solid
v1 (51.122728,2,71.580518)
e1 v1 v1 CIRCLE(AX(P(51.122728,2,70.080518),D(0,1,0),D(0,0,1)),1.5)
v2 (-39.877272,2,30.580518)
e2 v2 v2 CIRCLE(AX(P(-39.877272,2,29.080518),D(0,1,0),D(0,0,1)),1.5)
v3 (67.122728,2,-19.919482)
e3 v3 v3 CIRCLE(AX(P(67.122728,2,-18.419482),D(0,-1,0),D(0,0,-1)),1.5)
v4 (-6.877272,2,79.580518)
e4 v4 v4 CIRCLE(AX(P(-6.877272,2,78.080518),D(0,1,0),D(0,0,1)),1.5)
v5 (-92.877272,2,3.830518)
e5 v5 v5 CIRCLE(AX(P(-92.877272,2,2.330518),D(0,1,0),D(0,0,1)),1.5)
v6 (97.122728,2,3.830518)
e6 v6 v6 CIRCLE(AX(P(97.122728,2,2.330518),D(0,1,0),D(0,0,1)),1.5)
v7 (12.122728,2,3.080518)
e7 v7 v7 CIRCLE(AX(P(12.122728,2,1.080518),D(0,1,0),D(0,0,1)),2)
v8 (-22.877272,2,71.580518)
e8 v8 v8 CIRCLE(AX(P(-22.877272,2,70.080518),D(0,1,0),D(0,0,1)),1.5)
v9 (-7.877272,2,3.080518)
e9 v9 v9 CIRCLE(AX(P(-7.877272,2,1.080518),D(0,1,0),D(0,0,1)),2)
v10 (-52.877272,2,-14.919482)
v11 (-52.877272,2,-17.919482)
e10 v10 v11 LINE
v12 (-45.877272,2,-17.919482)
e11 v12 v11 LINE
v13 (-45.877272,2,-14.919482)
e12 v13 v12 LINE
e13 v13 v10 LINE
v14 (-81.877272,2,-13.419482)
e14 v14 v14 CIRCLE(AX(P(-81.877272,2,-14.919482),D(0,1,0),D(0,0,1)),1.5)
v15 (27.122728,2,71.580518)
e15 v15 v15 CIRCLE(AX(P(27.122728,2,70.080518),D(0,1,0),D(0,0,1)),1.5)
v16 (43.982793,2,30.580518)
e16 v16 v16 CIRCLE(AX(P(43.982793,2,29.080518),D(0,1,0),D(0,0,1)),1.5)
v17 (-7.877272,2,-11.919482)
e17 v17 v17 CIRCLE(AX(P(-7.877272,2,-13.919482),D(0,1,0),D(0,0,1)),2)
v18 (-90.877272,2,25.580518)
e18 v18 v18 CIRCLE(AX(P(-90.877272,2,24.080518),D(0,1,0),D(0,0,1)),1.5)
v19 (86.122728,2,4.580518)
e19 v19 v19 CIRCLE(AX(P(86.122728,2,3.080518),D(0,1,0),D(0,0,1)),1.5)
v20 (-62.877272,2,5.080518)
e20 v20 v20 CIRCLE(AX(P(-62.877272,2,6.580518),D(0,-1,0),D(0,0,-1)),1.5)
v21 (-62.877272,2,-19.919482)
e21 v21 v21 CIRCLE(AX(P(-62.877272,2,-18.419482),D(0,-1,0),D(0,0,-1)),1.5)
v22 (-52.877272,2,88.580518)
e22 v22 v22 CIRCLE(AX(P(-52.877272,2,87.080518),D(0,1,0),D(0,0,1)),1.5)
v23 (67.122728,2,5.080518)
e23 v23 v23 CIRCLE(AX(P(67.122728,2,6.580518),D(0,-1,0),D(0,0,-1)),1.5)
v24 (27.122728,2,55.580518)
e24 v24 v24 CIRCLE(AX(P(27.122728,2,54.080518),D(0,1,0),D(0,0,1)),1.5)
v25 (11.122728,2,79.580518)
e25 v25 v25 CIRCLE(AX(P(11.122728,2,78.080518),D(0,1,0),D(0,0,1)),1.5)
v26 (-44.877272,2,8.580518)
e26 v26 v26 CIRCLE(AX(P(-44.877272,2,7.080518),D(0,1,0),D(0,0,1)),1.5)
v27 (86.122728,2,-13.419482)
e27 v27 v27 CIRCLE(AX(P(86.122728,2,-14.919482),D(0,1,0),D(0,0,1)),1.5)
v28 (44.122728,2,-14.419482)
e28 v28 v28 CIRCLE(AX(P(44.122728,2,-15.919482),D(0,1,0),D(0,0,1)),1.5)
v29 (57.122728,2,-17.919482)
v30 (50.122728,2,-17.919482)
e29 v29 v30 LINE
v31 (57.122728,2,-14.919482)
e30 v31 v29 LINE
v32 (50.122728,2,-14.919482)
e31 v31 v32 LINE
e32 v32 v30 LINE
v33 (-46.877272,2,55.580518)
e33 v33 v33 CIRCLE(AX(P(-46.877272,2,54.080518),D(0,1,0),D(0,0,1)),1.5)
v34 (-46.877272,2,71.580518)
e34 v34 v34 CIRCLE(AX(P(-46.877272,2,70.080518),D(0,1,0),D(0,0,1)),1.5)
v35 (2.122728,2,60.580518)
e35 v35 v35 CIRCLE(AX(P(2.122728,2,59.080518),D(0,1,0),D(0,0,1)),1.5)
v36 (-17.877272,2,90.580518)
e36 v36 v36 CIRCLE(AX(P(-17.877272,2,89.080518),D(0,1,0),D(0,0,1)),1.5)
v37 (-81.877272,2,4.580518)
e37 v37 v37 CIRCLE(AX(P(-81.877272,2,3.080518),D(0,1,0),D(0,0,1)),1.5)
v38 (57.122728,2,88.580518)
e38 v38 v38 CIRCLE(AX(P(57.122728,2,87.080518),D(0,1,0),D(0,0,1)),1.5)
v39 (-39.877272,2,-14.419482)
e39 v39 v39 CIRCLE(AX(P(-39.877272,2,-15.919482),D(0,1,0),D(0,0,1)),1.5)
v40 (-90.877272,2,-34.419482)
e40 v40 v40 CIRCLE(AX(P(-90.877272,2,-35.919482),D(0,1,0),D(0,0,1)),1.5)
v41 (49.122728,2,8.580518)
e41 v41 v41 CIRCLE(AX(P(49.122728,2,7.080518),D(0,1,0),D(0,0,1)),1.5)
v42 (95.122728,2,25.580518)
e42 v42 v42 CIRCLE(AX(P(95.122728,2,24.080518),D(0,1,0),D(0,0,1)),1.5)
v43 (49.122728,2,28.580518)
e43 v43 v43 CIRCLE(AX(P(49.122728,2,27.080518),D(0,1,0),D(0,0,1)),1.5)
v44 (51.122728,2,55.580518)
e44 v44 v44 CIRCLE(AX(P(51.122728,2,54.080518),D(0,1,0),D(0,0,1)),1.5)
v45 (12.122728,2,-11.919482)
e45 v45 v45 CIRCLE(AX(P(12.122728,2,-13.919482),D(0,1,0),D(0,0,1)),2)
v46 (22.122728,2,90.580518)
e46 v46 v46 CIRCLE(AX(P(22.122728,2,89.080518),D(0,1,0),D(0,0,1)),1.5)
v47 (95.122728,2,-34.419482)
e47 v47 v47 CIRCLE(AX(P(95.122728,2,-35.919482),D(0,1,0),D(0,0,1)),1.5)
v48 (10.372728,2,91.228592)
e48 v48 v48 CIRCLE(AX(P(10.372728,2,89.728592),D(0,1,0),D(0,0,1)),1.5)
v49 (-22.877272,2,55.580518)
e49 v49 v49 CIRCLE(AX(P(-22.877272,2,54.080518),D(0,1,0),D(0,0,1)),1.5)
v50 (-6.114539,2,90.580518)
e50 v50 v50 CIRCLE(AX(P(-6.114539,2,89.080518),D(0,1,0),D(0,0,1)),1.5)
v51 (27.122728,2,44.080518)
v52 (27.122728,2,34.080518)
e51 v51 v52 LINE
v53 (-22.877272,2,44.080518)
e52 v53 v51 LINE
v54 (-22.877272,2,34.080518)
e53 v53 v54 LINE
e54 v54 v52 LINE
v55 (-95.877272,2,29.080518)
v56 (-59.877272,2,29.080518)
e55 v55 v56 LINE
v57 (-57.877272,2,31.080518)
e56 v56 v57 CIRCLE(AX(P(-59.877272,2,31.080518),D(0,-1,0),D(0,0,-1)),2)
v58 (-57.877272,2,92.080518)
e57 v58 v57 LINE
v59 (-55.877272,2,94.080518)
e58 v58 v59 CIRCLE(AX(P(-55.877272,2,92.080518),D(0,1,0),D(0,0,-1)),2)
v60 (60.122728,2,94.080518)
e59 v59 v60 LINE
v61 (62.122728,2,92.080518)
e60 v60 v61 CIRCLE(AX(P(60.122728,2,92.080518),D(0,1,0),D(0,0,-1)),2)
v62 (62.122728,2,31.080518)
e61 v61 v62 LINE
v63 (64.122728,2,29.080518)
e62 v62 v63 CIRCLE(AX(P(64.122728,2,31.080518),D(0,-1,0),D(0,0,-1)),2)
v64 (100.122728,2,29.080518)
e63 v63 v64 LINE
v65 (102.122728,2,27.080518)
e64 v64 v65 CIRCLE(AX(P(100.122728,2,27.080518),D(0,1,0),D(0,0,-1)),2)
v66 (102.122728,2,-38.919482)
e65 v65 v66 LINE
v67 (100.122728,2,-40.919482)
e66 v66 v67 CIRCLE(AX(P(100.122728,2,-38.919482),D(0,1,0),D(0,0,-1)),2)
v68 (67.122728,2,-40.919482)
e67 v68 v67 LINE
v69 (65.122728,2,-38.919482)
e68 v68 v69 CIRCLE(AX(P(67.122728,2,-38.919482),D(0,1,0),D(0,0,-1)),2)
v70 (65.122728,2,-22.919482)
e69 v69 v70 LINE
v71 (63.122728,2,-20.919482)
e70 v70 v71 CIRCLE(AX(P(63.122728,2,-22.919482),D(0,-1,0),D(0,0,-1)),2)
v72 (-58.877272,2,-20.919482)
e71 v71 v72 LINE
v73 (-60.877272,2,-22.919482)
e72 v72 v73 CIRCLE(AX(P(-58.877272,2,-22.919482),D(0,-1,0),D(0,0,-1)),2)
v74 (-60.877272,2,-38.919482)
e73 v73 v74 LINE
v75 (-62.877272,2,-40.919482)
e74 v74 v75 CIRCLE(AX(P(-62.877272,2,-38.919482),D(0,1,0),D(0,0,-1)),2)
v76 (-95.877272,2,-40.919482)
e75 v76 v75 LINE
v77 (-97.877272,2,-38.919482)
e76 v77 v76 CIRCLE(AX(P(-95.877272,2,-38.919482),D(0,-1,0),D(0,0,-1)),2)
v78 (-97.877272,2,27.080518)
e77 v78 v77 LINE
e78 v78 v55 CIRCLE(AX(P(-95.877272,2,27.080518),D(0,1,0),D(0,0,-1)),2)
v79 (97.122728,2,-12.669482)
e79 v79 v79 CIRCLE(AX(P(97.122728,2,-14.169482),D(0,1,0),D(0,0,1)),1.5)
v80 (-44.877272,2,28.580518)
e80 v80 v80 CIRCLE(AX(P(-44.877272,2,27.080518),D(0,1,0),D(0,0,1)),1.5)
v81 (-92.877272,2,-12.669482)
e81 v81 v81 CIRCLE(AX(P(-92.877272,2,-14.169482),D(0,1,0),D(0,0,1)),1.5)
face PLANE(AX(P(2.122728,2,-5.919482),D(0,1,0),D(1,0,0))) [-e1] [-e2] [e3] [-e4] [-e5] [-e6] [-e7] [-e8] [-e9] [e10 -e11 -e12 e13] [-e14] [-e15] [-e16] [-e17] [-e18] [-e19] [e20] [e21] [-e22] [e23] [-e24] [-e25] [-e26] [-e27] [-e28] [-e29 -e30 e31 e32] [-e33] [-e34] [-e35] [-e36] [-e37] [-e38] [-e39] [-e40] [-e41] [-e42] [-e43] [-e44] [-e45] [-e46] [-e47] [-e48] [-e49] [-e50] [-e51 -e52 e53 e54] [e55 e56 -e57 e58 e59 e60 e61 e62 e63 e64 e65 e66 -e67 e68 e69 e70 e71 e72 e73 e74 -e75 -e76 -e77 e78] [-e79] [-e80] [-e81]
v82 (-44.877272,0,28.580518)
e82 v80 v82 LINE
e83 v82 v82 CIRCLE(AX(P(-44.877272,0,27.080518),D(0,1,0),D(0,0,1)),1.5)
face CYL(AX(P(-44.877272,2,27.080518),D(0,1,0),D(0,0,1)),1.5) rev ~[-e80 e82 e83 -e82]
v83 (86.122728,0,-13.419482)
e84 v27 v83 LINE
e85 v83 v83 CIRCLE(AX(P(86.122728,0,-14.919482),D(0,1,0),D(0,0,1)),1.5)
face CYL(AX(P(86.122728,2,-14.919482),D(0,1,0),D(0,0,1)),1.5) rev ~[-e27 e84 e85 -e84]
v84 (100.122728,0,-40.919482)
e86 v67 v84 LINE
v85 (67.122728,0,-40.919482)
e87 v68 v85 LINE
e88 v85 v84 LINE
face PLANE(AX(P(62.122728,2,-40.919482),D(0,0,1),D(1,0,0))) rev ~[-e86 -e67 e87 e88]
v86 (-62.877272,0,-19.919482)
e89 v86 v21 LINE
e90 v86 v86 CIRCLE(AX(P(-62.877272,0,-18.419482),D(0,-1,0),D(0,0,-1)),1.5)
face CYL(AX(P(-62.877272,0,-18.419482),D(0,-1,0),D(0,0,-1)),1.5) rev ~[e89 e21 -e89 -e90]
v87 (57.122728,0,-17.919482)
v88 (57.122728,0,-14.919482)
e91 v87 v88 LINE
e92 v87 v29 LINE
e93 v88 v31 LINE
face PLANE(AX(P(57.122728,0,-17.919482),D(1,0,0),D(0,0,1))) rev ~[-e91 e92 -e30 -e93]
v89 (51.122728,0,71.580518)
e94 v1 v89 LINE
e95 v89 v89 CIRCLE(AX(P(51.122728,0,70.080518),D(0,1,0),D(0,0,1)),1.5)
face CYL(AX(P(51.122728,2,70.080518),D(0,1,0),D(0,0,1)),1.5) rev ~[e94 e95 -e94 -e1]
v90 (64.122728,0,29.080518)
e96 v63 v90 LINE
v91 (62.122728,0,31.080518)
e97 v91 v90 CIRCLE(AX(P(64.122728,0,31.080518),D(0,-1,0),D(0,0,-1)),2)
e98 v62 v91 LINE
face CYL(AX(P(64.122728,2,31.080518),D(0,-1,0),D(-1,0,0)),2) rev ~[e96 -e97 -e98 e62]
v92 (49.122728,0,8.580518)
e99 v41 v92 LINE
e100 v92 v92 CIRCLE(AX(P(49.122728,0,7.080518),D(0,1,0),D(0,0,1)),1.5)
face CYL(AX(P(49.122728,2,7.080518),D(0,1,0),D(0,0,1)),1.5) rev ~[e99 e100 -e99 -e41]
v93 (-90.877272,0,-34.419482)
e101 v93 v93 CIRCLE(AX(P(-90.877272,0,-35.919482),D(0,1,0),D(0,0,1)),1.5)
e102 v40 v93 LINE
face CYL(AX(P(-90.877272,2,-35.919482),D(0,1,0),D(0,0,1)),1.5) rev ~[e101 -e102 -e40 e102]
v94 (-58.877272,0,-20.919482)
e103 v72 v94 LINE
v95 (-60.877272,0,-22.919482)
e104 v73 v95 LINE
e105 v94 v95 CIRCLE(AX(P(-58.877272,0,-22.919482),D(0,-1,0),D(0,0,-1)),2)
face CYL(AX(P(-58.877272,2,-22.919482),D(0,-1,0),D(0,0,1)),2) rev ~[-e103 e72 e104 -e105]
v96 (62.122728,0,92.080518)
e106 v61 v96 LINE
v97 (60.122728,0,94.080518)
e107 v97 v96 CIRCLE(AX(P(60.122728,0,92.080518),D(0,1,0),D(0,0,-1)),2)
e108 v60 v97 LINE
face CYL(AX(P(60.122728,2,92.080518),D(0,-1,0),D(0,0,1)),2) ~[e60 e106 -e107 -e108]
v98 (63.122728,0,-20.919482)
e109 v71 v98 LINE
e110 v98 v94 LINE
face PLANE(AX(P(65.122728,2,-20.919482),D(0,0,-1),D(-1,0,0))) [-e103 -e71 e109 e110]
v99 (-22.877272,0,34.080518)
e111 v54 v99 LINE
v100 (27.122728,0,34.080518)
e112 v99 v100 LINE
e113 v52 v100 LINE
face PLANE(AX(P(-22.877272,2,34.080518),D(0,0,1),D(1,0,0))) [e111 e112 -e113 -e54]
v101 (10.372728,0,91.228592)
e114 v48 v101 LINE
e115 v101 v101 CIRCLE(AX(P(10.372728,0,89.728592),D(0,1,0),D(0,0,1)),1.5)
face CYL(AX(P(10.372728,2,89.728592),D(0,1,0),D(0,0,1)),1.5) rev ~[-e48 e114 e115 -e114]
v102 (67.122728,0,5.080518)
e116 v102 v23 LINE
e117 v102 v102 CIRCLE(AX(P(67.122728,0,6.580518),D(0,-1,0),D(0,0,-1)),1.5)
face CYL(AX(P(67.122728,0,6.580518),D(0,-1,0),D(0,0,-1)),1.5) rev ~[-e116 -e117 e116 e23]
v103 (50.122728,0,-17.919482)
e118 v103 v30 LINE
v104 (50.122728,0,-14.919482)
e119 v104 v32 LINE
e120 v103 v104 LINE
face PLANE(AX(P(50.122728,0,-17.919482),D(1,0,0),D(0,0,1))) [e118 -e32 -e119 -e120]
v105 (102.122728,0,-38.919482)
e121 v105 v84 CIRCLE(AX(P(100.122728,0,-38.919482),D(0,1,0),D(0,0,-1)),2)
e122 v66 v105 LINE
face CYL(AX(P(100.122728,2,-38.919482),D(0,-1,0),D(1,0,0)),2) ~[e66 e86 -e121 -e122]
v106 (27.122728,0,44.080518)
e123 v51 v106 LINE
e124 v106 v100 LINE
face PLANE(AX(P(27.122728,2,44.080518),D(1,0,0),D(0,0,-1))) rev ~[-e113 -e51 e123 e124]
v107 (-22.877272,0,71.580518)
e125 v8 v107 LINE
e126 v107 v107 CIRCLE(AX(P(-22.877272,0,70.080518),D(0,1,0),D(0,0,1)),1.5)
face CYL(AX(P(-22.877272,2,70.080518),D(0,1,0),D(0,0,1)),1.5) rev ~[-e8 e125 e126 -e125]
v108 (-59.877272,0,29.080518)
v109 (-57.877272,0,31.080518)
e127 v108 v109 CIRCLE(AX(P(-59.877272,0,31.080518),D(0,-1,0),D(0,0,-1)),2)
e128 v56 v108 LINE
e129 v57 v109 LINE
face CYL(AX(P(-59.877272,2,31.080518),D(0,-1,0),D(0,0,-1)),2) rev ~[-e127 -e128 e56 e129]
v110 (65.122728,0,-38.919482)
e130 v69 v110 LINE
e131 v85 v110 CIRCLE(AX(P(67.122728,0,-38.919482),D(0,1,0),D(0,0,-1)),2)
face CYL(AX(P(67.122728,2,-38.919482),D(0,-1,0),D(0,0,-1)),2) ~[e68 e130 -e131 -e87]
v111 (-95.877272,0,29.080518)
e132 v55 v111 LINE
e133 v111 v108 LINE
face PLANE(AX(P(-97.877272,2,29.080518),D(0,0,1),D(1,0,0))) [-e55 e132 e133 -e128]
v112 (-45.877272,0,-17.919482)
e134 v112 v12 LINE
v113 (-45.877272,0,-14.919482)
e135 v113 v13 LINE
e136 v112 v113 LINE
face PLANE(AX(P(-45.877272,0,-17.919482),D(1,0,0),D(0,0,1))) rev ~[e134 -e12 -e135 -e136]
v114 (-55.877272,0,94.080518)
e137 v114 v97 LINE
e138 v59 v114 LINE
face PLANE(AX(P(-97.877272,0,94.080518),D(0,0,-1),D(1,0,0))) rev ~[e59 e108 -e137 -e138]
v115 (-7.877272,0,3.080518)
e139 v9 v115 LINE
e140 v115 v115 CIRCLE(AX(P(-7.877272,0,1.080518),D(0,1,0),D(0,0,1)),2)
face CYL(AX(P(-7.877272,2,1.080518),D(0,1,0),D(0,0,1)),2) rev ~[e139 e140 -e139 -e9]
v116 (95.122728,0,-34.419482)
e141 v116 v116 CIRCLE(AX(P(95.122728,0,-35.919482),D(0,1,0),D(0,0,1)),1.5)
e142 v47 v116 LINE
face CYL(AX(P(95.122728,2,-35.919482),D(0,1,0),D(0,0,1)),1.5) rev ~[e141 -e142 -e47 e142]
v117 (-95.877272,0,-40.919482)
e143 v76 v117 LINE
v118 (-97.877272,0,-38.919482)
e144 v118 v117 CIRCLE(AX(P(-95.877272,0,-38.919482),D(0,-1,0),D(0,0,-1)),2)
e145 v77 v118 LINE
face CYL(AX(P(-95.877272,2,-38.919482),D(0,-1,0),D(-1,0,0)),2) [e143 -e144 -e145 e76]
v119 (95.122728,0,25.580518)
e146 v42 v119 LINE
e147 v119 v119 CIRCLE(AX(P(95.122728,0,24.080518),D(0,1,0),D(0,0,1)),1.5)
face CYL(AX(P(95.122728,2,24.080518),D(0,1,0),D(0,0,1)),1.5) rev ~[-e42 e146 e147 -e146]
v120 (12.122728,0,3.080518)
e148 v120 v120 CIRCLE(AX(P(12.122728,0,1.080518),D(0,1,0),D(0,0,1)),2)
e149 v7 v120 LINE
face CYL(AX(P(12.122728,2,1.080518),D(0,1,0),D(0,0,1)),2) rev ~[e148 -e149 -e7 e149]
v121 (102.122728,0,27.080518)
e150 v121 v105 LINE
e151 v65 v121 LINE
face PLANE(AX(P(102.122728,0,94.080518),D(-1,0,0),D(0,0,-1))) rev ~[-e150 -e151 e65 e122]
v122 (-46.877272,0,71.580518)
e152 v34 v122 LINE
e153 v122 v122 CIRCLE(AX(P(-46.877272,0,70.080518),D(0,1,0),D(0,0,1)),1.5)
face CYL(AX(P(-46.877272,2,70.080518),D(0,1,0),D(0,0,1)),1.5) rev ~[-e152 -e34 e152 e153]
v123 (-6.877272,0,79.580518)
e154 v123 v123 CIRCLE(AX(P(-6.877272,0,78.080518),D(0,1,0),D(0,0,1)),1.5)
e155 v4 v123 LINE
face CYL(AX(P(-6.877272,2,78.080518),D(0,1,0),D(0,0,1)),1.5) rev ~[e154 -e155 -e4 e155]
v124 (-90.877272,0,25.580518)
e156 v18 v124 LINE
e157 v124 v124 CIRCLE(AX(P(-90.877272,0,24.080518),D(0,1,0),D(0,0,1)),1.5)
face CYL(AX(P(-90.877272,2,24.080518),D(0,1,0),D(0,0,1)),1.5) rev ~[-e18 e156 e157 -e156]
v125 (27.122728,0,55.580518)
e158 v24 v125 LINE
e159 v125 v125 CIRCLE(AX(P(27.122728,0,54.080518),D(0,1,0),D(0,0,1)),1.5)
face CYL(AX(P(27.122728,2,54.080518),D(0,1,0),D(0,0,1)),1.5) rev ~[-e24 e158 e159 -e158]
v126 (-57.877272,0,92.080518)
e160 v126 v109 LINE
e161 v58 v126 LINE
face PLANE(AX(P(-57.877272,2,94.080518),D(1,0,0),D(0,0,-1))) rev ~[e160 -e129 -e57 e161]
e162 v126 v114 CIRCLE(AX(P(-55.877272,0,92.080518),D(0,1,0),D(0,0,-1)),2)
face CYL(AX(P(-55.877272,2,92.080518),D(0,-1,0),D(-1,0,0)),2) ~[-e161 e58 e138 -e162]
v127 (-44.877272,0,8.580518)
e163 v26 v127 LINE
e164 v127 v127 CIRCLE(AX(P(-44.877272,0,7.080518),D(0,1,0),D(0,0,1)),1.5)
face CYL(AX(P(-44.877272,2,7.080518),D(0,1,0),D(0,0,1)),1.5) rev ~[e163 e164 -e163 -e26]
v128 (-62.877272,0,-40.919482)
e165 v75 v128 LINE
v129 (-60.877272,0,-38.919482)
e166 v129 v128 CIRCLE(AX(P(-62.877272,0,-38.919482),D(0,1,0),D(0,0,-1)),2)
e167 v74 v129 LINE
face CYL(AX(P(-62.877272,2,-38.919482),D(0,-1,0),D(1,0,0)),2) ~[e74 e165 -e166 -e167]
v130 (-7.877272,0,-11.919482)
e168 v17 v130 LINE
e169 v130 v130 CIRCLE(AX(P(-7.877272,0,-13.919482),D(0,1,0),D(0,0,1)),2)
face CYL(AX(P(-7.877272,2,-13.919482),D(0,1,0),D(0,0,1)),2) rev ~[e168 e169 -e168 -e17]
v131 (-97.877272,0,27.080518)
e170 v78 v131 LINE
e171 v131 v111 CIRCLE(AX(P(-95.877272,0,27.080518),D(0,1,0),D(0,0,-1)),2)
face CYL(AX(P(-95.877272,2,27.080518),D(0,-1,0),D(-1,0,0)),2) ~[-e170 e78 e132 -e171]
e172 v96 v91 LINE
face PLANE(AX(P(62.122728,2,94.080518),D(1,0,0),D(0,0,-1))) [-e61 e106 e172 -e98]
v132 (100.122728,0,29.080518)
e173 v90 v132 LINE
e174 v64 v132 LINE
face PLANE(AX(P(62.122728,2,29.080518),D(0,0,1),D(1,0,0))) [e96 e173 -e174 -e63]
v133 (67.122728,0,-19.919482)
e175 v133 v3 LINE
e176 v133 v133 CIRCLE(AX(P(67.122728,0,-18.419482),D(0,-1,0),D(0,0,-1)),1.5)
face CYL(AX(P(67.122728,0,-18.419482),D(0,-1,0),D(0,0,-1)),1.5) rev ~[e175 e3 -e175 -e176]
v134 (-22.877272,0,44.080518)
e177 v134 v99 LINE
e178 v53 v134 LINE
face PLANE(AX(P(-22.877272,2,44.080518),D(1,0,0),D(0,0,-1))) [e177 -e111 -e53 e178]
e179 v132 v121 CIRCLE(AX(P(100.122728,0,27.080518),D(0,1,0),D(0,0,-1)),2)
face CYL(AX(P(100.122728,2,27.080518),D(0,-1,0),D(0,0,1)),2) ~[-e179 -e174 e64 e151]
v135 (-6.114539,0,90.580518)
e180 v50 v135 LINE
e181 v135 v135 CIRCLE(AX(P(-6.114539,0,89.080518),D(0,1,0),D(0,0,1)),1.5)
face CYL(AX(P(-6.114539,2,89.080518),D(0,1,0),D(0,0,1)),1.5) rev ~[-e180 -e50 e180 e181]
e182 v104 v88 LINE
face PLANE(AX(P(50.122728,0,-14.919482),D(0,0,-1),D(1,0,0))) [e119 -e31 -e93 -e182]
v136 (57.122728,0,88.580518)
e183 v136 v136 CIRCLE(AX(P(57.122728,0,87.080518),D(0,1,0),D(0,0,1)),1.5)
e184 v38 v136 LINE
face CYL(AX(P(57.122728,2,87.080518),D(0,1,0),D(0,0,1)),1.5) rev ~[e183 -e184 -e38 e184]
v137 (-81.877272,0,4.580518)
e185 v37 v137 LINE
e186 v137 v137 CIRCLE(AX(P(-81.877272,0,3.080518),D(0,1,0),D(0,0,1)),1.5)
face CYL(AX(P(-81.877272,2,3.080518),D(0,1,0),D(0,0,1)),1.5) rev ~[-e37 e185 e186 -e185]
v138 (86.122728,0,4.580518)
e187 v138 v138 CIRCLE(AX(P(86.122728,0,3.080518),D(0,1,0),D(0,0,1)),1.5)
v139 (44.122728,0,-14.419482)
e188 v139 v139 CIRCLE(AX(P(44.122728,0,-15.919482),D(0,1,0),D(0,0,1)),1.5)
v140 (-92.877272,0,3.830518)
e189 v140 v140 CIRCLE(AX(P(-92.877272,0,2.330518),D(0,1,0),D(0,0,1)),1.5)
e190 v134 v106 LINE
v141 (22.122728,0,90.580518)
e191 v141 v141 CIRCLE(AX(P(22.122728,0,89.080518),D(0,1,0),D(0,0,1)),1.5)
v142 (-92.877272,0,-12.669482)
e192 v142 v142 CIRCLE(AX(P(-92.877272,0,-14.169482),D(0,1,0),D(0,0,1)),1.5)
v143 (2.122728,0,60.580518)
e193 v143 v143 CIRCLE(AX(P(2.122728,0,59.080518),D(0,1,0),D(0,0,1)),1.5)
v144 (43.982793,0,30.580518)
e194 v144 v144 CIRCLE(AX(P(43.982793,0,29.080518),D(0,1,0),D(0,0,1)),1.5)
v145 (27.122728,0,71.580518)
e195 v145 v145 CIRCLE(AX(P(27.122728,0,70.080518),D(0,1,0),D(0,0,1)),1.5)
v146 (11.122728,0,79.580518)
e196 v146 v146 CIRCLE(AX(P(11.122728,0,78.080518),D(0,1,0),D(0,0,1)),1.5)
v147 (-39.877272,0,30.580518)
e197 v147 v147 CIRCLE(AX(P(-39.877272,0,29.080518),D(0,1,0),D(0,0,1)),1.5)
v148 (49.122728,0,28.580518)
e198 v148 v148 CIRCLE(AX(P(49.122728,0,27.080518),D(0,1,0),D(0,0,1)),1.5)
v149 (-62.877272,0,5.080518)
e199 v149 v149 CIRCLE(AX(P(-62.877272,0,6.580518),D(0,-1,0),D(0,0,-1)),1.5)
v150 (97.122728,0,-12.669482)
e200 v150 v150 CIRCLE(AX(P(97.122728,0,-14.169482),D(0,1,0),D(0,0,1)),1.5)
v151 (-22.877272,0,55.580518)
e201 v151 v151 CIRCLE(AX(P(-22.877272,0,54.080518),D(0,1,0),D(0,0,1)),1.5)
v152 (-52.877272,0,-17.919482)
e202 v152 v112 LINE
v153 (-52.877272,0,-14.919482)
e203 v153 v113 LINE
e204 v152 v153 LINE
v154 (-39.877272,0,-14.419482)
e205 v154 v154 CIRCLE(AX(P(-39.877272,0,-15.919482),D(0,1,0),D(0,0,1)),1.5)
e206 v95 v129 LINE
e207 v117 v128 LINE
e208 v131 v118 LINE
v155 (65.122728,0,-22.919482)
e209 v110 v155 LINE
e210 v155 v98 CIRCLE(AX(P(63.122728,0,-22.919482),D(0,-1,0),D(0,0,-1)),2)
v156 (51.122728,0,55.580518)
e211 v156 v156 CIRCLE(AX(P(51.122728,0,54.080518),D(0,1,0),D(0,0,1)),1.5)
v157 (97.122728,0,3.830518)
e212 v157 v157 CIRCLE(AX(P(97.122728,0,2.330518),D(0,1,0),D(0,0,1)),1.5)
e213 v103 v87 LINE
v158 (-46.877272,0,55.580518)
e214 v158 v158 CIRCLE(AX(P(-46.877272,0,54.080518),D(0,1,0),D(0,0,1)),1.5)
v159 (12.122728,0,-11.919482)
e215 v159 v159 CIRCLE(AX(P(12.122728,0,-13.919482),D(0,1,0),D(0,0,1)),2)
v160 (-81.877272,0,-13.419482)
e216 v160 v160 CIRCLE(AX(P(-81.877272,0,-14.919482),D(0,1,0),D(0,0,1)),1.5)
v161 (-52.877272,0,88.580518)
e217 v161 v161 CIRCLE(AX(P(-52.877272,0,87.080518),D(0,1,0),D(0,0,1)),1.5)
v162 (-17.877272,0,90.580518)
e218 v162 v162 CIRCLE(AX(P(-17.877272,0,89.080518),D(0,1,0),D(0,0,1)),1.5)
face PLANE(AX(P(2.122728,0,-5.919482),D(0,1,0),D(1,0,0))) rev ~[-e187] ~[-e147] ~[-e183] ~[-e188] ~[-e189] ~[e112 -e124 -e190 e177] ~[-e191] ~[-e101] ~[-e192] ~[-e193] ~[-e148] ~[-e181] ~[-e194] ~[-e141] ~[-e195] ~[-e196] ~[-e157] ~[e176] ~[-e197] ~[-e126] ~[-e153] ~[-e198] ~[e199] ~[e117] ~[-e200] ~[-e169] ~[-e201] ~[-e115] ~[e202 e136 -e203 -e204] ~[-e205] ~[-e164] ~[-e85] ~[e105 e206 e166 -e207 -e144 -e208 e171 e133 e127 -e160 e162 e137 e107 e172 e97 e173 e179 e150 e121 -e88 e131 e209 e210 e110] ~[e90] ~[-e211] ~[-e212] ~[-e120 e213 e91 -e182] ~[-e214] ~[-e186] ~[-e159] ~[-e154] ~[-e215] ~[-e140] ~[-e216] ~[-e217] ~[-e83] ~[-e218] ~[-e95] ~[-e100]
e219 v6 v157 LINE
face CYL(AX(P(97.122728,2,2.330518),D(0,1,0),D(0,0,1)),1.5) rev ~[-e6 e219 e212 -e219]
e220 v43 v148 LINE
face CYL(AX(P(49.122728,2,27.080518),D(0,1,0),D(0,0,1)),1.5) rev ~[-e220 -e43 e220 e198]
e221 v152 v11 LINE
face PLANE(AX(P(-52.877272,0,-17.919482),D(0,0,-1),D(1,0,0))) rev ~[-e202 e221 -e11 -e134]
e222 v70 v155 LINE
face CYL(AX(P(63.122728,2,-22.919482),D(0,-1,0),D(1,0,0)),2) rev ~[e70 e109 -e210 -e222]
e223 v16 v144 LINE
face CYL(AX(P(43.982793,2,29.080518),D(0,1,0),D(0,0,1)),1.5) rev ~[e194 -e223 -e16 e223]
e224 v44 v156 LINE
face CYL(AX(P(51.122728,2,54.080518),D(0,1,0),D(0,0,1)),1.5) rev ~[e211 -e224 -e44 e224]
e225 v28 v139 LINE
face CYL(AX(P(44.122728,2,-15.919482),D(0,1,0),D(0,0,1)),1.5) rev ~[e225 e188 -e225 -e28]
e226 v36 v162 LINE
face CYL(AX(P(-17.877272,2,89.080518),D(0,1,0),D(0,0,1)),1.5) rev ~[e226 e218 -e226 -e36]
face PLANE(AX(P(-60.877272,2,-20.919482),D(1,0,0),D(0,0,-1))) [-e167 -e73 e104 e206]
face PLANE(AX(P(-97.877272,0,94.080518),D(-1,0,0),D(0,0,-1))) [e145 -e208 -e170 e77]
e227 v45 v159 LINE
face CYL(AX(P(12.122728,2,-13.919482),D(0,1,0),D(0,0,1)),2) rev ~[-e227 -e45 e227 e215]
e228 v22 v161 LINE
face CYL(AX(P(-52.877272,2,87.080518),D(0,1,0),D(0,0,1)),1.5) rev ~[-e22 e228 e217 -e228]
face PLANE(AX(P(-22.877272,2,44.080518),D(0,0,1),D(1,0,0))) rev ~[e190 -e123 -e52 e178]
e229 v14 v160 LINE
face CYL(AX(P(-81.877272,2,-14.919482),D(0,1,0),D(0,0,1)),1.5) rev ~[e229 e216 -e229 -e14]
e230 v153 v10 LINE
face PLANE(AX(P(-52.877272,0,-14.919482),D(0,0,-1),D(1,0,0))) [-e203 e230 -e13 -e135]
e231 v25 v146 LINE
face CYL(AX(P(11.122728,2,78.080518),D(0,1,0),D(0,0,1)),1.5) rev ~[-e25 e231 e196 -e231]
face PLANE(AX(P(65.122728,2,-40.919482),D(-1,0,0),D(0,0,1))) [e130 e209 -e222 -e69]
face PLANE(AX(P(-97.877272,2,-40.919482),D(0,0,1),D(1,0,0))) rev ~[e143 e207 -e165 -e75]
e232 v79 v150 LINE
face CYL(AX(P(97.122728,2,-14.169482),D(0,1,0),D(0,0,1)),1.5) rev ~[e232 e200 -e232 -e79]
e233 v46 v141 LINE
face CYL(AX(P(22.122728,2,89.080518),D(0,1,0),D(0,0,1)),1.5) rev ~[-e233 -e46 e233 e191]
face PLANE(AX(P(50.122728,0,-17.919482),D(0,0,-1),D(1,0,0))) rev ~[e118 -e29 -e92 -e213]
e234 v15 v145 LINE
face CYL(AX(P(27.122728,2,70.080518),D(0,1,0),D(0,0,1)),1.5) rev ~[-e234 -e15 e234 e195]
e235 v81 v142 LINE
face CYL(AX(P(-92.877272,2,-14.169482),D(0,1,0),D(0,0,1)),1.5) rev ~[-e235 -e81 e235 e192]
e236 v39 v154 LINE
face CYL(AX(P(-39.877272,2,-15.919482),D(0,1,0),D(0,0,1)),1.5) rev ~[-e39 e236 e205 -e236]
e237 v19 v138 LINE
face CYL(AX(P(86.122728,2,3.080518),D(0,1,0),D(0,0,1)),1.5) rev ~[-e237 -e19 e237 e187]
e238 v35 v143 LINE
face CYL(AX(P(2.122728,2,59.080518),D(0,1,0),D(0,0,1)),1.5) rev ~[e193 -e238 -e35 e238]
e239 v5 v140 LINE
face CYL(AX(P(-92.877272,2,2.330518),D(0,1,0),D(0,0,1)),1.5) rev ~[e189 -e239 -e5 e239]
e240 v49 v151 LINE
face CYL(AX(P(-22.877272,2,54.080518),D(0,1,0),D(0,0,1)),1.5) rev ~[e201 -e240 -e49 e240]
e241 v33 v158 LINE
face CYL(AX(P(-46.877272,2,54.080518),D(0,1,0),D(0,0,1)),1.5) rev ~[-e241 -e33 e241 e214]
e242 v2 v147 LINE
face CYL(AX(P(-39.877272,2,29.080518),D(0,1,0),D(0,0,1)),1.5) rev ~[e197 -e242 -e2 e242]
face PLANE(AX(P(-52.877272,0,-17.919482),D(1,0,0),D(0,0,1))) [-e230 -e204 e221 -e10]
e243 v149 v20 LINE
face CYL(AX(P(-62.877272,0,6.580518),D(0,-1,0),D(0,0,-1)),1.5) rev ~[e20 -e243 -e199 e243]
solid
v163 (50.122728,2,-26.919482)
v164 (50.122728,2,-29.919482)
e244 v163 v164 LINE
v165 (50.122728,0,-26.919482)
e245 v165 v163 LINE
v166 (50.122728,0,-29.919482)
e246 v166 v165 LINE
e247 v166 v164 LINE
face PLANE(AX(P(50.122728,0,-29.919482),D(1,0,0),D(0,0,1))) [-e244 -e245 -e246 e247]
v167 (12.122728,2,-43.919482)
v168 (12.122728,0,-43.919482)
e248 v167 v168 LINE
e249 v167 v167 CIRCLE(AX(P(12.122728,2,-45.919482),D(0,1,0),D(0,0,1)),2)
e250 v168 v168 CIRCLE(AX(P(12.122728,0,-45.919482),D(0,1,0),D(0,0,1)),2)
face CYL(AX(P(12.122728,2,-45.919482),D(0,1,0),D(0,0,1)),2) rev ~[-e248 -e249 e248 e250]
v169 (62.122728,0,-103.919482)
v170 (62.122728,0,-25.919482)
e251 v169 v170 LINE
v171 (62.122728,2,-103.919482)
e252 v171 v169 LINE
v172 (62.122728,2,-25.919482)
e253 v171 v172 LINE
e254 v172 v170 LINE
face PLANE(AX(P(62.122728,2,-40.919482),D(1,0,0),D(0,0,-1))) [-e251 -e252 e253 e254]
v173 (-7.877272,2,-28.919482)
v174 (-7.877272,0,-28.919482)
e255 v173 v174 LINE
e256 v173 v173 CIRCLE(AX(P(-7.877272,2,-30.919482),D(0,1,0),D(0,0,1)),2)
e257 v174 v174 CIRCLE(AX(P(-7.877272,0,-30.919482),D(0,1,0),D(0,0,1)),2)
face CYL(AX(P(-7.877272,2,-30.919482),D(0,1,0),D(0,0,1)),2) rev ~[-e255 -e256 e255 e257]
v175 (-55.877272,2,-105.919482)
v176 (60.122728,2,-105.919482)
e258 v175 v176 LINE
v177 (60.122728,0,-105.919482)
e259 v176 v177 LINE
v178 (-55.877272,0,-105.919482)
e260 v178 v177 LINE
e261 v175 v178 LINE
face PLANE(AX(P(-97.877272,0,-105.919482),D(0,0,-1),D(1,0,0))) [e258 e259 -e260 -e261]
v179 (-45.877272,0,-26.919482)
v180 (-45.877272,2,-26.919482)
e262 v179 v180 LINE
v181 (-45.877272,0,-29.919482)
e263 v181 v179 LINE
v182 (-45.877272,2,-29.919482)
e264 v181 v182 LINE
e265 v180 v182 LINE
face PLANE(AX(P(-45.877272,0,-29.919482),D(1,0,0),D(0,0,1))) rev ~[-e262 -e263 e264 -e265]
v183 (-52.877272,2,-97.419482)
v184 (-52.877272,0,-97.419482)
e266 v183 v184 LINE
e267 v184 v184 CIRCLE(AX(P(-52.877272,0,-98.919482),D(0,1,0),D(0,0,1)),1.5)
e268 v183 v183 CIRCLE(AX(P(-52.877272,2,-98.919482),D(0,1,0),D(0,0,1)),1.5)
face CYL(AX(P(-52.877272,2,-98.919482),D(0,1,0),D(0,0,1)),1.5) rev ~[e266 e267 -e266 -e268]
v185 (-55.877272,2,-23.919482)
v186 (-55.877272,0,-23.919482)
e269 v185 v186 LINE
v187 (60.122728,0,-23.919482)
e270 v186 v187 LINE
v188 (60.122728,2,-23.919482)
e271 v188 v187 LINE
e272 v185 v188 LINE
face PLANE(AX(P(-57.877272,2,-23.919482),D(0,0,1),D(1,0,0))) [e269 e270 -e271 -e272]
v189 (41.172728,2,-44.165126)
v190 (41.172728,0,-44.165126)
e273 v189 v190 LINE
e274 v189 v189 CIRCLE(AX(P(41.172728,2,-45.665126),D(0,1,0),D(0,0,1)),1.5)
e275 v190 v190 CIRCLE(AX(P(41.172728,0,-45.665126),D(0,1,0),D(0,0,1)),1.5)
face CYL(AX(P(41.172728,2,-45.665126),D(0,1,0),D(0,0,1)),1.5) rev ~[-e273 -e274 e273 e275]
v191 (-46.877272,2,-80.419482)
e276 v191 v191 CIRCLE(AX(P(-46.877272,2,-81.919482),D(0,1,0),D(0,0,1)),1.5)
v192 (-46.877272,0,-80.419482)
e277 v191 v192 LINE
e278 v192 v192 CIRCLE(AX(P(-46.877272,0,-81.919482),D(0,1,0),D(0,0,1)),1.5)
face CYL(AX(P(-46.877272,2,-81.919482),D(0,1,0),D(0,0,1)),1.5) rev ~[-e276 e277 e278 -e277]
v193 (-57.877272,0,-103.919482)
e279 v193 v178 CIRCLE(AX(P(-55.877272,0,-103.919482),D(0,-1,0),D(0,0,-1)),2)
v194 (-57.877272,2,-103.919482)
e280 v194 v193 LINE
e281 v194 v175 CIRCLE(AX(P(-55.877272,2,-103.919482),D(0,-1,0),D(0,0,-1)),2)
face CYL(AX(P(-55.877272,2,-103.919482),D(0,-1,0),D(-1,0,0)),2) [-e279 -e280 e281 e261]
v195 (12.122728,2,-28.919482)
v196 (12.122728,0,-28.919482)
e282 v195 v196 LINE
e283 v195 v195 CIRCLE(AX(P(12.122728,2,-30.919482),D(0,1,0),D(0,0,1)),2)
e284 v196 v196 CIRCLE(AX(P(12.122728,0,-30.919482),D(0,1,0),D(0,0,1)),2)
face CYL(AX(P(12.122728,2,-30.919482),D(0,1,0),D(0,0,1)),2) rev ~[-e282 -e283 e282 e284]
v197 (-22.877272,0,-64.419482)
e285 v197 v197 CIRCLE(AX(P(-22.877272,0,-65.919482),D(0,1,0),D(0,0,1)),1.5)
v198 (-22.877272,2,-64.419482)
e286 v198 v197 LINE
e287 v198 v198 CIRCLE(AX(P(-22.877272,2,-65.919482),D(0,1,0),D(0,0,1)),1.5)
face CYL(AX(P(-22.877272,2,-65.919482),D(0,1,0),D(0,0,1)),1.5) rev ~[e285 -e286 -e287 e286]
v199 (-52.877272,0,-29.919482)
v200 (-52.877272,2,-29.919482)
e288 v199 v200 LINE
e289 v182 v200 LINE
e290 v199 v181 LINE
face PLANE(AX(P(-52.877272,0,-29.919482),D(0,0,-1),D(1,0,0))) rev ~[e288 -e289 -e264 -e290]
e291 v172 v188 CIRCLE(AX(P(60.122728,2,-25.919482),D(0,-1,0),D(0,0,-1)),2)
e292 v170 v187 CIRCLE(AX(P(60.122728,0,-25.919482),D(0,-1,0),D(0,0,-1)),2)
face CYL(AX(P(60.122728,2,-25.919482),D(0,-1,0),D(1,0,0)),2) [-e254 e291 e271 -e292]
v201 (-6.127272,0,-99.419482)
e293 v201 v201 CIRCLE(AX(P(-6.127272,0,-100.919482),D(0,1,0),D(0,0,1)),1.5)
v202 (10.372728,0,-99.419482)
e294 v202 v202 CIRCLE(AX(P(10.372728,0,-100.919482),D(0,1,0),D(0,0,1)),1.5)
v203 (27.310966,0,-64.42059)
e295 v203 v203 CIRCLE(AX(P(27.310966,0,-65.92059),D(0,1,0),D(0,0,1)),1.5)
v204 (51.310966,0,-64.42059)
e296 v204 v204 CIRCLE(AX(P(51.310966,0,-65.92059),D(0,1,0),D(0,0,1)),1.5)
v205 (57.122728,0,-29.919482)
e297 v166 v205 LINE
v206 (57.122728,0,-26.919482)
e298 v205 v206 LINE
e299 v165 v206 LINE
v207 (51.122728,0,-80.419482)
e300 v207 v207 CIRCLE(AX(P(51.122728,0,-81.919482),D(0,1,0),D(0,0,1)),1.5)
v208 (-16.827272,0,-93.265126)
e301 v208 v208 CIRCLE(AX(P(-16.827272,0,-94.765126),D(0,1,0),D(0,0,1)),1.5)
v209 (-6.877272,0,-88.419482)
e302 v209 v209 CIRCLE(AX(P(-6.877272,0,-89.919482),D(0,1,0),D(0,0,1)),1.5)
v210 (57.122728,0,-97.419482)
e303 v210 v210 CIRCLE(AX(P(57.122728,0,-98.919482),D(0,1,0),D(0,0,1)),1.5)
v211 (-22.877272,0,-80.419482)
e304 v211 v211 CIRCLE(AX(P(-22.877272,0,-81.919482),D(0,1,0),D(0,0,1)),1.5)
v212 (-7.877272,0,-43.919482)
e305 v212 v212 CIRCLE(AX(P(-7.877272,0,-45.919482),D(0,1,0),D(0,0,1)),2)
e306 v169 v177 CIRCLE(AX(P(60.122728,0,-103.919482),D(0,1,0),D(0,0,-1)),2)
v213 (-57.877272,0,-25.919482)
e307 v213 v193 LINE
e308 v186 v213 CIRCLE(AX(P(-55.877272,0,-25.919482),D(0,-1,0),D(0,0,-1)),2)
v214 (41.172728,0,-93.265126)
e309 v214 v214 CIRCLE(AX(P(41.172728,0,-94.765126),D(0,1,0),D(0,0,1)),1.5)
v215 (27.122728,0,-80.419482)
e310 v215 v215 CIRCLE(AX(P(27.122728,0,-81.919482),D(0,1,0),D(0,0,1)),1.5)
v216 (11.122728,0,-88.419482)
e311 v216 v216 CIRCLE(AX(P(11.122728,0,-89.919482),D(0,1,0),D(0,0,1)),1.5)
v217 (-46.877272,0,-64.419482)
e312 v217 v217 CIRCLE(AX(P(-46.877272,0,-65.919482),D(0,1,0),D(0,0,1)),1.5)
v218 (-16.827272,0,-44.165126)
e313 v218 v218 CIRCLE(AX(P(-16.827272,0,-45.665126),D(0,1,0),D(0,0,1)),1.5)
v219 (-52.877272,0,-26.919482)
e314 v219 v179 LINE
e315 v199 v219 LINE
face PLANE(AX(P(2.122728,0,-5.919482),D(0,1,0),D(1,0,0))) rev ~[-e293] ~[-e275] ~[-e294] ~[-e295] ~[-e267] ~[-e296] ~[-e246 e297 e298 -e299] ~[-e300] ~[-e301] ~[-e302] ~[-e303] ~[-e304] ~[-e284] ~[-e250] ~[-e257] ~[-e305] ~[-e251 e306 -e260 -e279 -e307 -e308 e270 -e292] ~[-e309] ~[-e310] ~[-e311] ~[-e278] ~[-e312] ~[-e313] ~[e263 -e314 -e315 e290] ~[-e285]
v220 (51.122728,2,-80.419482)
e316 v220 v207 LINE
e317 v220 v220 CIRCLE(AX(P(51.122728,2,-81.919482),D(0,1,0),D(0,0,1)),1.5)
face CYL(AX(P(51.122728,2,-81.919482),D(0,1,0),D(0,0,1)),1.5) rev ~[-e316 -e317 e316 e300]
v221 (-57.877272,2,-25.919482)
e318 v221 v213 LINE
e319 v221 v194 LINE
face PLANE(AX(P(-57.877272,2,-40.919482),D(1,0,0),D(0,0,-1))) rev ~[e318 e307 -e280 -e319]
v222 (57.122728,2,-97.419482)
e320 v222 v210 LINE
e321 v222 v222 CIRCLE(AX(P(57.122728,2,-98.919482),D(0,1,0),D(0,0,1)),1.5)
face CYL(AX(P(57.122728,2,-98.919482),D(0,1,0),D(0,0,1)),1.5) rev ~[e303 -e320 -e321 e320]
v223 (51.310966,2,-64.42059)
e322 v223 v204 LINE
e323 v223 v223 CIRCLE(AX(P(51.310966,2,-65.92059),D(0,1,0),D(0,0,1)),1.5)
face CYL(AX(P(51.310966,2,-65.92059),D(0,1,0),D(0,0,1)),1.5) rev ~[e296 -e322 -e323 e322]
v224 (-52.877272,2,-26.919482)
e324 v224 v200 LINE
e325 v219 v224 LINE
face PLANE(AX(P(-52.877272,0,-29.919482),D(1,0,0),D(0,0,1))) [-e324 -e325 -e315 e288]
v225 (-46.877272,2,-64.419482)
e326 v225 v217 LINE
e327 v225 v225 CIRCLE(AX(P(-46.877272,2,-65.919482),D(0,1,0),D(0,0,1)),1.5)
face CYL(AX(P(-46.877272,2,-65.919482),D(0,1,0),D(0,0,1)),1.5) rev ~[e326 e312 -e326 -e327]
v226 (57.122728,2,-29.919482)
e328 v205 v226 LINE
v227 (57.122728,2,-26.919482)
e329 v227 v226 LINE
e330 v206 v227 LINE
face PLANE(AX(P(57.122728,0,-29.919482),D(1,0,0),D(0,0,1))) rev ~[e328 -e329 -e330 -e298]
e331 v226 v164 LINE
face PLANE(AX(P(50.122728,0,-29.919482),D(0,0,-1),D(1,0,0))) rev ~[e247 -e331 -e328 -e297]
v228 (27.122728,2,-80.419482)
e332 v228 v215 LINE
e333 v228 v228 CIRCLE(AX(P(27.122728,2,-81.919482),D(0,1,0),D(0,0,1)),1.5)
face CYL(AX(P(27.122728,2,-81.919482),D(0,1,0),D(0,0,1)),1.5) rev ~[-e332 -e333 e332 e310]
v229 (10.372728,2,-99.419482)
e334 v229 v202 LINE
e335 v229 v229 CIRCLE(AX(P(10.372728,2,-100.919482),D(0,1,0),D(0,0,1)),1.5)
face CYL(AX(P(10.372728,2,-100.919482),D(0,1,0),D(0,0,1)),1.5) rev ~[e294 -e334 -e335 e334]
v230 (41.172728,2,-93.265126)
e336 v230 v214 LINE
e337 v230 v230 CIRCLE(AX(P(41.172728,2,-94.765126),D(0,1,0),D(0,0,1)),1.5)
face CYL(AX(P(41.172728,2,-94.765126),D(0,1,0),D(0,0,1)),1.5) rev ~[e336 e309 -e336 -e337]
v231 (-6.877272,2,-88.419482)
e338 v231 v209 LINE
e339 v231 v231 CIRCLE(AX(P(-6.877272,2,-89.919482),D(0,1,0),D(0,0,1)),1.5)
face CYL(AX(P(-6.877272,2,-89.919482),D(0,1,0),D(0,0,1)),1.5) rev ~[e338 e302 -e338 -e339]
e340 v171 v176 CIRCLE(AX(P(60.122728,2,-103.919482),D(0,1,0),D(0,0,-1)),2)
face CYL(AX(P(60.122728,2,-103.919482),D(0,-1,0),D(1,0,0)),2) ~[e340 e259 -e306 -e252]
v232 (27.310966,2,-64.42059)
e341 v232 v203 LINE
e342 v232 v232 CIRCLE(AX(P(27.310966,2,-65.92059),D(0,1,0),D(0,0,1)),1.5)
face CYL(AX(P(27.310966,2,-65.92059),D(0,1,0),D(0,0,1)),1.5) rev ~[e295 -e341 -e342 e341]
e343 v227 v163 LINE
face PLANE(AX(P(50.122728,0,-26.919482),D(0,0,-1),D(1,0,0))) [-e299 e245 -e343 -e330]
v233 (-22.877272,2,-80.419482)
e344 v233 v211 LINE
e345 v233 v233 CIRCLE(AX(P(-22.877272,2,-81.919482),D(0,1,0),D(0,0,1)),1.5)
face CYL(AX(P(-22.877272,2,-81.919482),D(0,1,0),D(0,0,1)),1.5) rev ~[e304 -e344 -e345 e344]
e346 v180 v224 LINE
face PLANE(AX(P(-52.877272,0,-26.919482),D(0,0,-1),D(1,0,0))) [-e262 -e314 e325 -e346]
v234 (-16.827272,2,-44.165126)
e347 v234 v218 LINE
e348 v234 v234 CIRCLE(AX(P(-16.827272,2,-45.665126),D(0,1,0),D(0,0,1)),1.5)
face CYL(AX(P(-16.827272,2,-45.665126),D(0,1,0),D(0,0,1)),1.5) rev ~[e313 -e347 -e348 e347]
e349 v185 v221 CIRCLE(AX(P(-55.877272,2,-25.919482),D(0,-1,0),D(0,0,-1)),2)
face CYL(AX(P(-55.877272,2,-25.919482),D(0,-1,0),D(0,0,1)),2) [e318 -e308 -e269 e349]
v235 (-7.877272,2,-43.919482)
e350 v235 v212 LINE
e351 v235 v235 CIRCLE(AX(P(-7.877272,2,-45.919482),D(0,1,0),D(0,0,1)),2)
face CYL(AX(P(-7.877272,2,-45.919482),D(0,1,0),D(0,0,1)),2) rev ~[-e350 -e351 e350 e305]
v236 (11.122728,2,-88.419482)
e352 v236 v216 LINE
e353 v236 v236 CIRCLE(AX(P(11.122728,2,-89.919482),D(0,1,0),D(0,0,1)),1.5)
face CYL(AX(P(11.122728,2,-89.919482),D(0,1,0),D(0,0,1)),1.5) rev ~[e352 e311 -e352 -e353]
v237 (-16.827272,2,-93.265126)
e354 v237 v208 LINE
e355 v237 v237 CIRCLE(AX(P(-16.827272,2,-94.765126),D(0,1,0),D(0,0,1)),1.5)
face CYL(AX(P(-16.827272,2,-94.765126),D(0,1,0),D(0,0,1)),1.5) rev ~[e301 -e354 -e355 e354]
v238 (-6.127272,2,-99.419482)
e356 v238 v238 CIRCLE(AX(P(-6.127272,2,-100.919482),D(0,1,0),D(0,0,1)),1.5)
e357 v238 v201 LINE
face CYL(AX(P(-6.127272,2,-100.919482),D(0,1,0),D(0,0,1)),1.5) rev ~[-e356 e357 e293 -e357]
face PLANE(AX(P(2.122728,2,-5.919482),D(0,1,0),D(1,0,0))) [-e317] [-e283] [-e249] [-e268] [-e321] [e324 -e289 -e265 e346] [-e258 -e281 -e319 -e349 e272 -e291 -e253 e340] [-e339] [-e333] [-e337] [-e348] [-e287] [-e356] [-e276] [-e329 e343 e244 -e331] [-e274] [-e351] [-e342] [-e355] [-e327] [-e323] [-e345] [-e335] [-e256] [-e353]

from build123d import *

# Parameters (mm, degrees)
SKETCH_1_W             = 200
SKETCH_1_H             = 200
EXTRUDE_341_DEPTH      = 2
SKETCH_2_W             = 40
SKETCH_2_H             = 65
CUT_EXTRUDE_671_DEPTH  = 2
SKETCH_3_R             = 1.5
CUT_EXTRUDE_1454_DEPTH = 2
SKETCH_4_R             = 1.5
CUT_EXTRUDE_2155_DEPTH = 2
SKETCH_5_R             = 1.5
CUT_EXTRUDE_3116_DEPTH = 10
SKETCH_7_R             = 2
CUT_EXTRUDE_3951_DEPTH = 10
CUT_EXTRUDE_4268_DEPTH = 10
FILLET_4341_R          = 2
FILLET_4941_R          = 2
SKETCH_11_R            = 1.5
CUT_EXTRUDE_1_DEPTH    = 10
SKETCH_13_R            = 1.5
CUT_EXTRUDE_3_DEPTH    = 10
SKETCH_14_R            = 1.5
CUT_EXTRUDE_4_DEPTH    = 10
SKETCH_15_R            = 1.5
CUT_EXTRUDE_5_DEPTH    = 10
SKETCH_16_R            = 1.5
CUT_EXTRUDE_6_DEPTH    = 10
SKETCH_17_W            = 50
SKETCH_17_H            = 10
CUT_EXTRUDE_7_DEPTH    = 10
SKETCH_18_W            = 7
SKETCH_18_H            = 3
CUT_EXTRUDE_8_DEPTH    = 10
SKETCH_19_R            = 1.5
CUT_EXTRUDE_9_DEPTH    = 10


with BuildPart() as part:
    # 草图1 → Extrude 341 (new body)
    with BuildSketch(Plane(origin=(0, 0, 0), x_dir=(1, 0, 0), z_dir=(0, 1, 0))):
        with Locations((2.122728297, 5.919482435)):
            Rectangle(SKETCH_1_W, SKETCH_1_H)
    extrude(amount=EXTRUDE_341_DEPTH)

    # 草图2 → Cut-Extrude 671 (cut)
    with BuildSketch(Plane(origin=(0, 2, 0), x_dir=(1, 0, 0), z_dir=(0, 1, 0))):
        with Locations((-77.877271703, 73.419482435)):
            Rectangle(SKETCH_2_W, SKETCH_2_H)
        with Locations((82.122728297, 73.419482435)):
            Rectangle(SKETCH_2_W, SKETCH_2_H)
        with Locations((82.122728297, -61.580517565)):
            Rectangle(SKETCH_2_W, SKETCH_2_H)
        with Locations((-77.877271703, -61.580517565)):
            Rectangle(SKETCH_2_W, SKETCH_2_H)
    extrude(amount=-CUT_EXTRUDE_671_DEPTH, mode=Mode.SUBTRACT)

    # 草图3 → Cut-Extrude 1454 (cut)
    with BuildSketch(Plane(origin=(0, 2, 0), x_dir=(1, 0, 0), z_dir=(0, 1, 0))):
        with Locations(Location((-46.877271703, 81.919482435, 0), (0, 0, 270))):
            Circle(SKETCH_3_R)
        with Locations(Location((-22.877271703, 81.919482435, 0), (0, 0, 270))):
            Circle(SKETCH_3_R)
        with Locations(Location((-46.877271703, 65.919482435, 0), (0, 0, 270))):
            Circle(SKETCH_3_R)
        with Locations(Location((-22.877271703, 65.919482435, 0), (0, 0, 270))):
            Circle(SKETCH_3_R)
        with Locations(Location((-46.877271703, -54.080517565, 0), (0, 0, 270))):
            Circle(SKETCH_3_R)
        with Locations(Location((-22.877271703, -54.080517565, 0), (0, 0, 270))):
            Circle(SKETCH_3_R)
        with Locations(Location((-46.877271703, -70.080517565, 0), (0, 0, 270))):
            Circle(SKETCH_3_R)
        with Locations(Location((-22.877271703, -70.080517565, 0), (0, 0, 270))):
            Circle(SKETCH_3_R)
        with Locations(Location((27.122728297, -54.080517565, 0), (0, 0, 270))):
            Circle(SKETCH_3_R)
        with Locations(Location((51.122728297, -54.080517565, 0), (0, 0, 270))):
            Circle(SKETCH_3_R)
        with Locations(Location((27.122728297, -70.080517565, 0), (0, 0, 270))):
            Circle(SKETCH_3_R)
        with Locations(Location((51.122728297, -70.080517565, 0), (0, 0, 270))):
            Circle(SKETCH_3_R)
        with Locations(Location((27.122728297, 81.919482435, 0), (0, 0, 270))):
            Circle(SKETCH_3_R)
        with Locations(Location((51.122728297, 81.919482435, 0), (0, 0, 270))):
            Circle(SKETCH_3_R)
        with Locations(Location((27.310966497, 65.920589774, 0), (0, 0, 270))):
            Circle(SKETCH_3_R)
        with Locations(Location((51.310966497, 65.920589774, 0), (0, 0, 270))):
            Circle(SKETCH_3_R)
    extrude(amount=-CUT_EXTRUDE_1454_DEPTH, mode=Mode.SUBTRACT)

    # 草图4 → Cut-Extrude 2155 (cut)
    with BuildSketch(Plane(origin=(0, 2, 0), x_dir=(1, 0, 0), z_dir=(0, 1, 0))):
        with Locations(Location((-6.877271703, 89.919482435, 0), (0, 0, 270))):
            Circle(SKETCH_4_R)
        with Locations(Location((11.122728297, 89.919482435, 0), (0, 0, 270))):
            Circle(SKETCH_4_R)
        with Locations(Location((-6.877271703, -78.080517565, 0), (0, 0, 270))):
            Circle(SKETCH_4_R)
        with Locations(Location((11.122728297, -78.080517565, 0), (0, 0, 270))):
            Circle(SKETCH_4_R)
        with Locations(Location((-81.877271703, 14.919482435, 0), (0, 0, 270))):
            Circle(SKETCH_4_R)
        with Locations(Location((-81.877271703, -3.080517565, 0), (0, 0, 270))):
            Circle(SKETCH_4_R)
        with Locations(Location((86.122728297, 14.919482435, 0), (0, 0, 270))):
            Circle(SKETCH_4_R)
        with Locations(Location((86.122728297, -3.080517565, 0), (0, 0, 270))):
            Circle(SKETCH_4_R)
    extrude(amount=-CUT_EXTRUDE_2155_DEPTH, mode=Mode.SUBTRACT)

    # 草图5 → Cut-Extrude 3116 (cut)
    with BuildSketch(Plane(origin=(0, 2, 0), x_dir=(1, 0, 0), z_dir=(0, 1, 0))):
        with Locations(Location((-52.877271703, -87.080517565, 0), (0, 0, 270))):
            Circle(SKETCH_5_R)
        with Locations(Location((57.122728297, -87.080517565, 0), (0, 0, 270))):
            Circle(SKETCH_5_R)
        with Locations(Location((57.122728297, 98.919482435, 0), (0, 0, 270))):
            Circle(SKETCH_5_R)
        with Locations(Location((-52.877271703, 98.919482435, 0), (0, 0, 270))):
            Circle(SKETCH_5_R)
        with Locations(Location((-90.877271703, 35.919482435, 0), (0, 0, 270))):
            Circle(SKETCH_5_R)
        with Locations(Location((-90.877271703, -24.080517565, 0), (0, 0, 270))):
            Circle(SKETCH_5_R)
        with Locations(Location((95.122728297, 35.919482435, 0), (0, 0, 270))):
            Circle(SKETCH_5_R)
        with Locations(Location((95.122728297, -24.080517565, 0), (0, 0, 270))):
            Circle(SKETCH_5_R)
    extrude(amount=-CUT_EXTRUDE_3116_DEPTH, mode=Mode.SUBTRACT)

    # 草图7 → Cut-Extrude 3951 (cut)
    with BuildSketch(Plane(origin=(0, 2, 0), x_dir=(1, 0, 0), z_dir=(0, 1, 0))):
        with Locations(Location((-7.877271703, 45.919482435, 0), (0, 0, 270))):
            Circle(SKETCH_7_R)
        with Locations(Location((-7.877271703, 30.919482435, 0), (0, 0, 270))):
            Circle(SKETCH_7_R)
        with Locations(Location((-7.877271703, 13.919482435, 0), (0, 0, 270))):
            Circle(SKETCH_7_R)
        with Locations(Location((-7.877271703, -1.080517565, 0), (0, 0, 270))):
            Circle(SKETCH_7_R)
        with Locations(Location((12.122728297, 45.919482435, 0), (0, 0, 270))):
            Circle(SKETCH_7_R)
        with Locations(Location((12.122728297, 30.919482435, 0), (0, 0, 270))):
            Circle(SKETCH_7_R)
        with Locations(Location((12.122728297, 13.919482435, 0), (0, 0, 270))):
            Circle(SKETCH_7_R)
        with Locations(Location((12.122728297, -1.080517565, 0), (0, 0, 270))):
            Circle(SKETCH_7_R)
    extrude(amount=-CUT_EXTRUDE_3951_DEPTH, mode=Mode.SUBTRACT)

    # 草图8 → Cut-Extrude 4268 (cut)
    with BuildSketch(Plane(origin=(0, 2, 0), x_dir=(1, 0, 0), z_dir=(0, 1, 0))):
        Polygon((-57.877271703, 40.919482435), (-57.877271703, 23.919482435), (62.122728297, 23.919482435), (62.122728297, 40.919482435), (65.122728297, 40.919482435), (65.122728297, 20.919482435), (-60.877271703, 20.919482435), (-60.877271703, 40.919482435), align=None)
    extrude(amount=-CUT_EXTRUDE_4268_DEPTH, mode=Mode.SUBTRACT)


with BuildPart() as cut_extrude_4268_piece_1:
    # of the separate pieces the step leaves, piece 1, a body of its own (cut_extrude_4268_pieces)
    add(part.part.solids().sort_by_distance((-60.877271703, 0, -40.919482435))[0])

    # Fillet 4341
    fillet_4341_edges = [cut_extrude_4268_piece_1.edges().sort_by_distance(p)[0] for p in [
        (-60.877271703, 1, -40.919482435),
        (65.122728297, 1, -20.919482435),
        (-60.877271703, 1, -20.919482435),
        (65.122728297, 1, -40.919482435),
        (-97.877271703, 1, 29.080517565),
        (-57.877271703, 1, 29.080517565),
        (-57.877271703, 1, 94.080517565),
        (102.122728297, 1, 29.080517565),
        (62.122728297, 1, 94.080517565),
        (62.122728297, 1, 29.080517565),
        (102.122728297, 1, -40.919482435),
        (-97.877271703, 1, -40.919482435),
    ]]
    fillet(fillet_4341_edges, radius=FILLET_4341_R)

    # 草图11 → 切除-拉伸1 (cut)
    with BuildSketch(Plane(origin=(0, 2, 0), x_dir=(1, 0, 0), z_dir=(0, 1, 0))):
        with Locations(Location((-17.877271703, -89.080517565, 0), (0, 0, 270))):
            Circle(SKETCH_11_R)
        with Locations(Location((22.122728297, -89.080517565, 0), (0, 0, 270))):
            Circle(SKETCH_11_R)
        with Locations(Location((2.122728297, -59.080517565, 0), (0, 0, 270))):
            Circle(SKETCH_11_R)
    extrude(amount=-CUT_EXTRUDE_1_DEPTH, mode=Mode.SUBTRACT)

    # 草图13 → 切除-拉伸3 (cut)
    with BuildSketch(Plane(origin=(0, 2, 0), x_dir=(1, 0, 0), z_dir=(0, 1, 0))):
        with Locations(Location((-39.877271703, 15.919482435, 0), (0, 0, 270))):
            Circle(SKETCH_13_R)
        with Locations(Location((44.122728297, 15.919482435, 0), (0, 0, 270))):
            Circle(SKETCH_13_R)
        with Locations(Location((-39.877271703, -29.080517565, 0), (0, 0, 270))):
            Circle(SKETCH_13_R)
        with Locations(Location((43.982792611, -29.080517565, 0), (0, 0, 270))):
            Circle(SKETCH_13_R)
    extrude(amount=-CUT_EXTRUDE_3_DEPTH, mode=Mode.SUBTRACT)


with BuildPart() as cut_extrude_4268_piece_2:
    # of the separate pieces the step leaves, piece 2, a body of its own (cut_extrude_4268_pieces)
    add(part.part.solids().sort_by_distance((-57.877271703, 0, -105.919482435))[0])

    # Fillet 4941
    fillet_4941_edges = [cut_extrude_4268_piece_2.edges().sort_by_distance(p)[0] for p in [
        (-57.877271703, 1, -105.919482435),
        (62.122728297, 1, -105.919482435),
        (-57.877271703, 1, -23.919482435),
        (62.122728297, 1, -23.919482435),
    ]]
    fillet(fillet_4941_edges, radius=FILLET_4941_R)


with BuildPart() as cut_extrude_4_tool:
    # 草图14 → 切除-拉伸4 (new body)
    with BuildSketch(Plane(origin=(0, 2, 0), x_dir=(1, 0, 0), z_dir=(0, 1, 0))):
        with Locations(Location((-6.127271703, 100.919482435, 0), (0, 0, 270))):
            Circle(SKETCH_14_R)
        with Locations(Location((10.372728297, 100.919482435, 0), (0, 0, 270))):
            Circle(SKETCH_14_R)
        with Locations(Location((-6.114539492, -89.080517565, 0), (0, 0, 270))):
            Circle(SKETCH_14_R)
        with Locations(Location((10.372728297, -89.728592295, 0), (0, 0, 270))):
            Circle(SKETCH_14_R)
        with Locations(Location((-92.877271703, 14.169482435, 0), (0, 0, 270))):
            Circle(SKETCH_14_R)
        with Locations(Location((-92.877271703, -2.330517565, 0), (0, 0, 270))):
            Circle(SKETCH_14_R)
        with Locations(Location((97.122728297, 14.169482435, 0), (0, 0, 270))):
            Circle(SKETCH_14_R)
        with Locations(Location((97.122728297, -2.330517565, 0), (0, 0, 270))):
            Circle(SKETCH_14_R)
    extrude(amount=-CUT_EXTRUDE_4_DEPTH)


with BuildPart() as cut_extrude_4268_piece_1_1:
    add(cut_extrude_4268_piece_1.part)

    # 切除-拉伸4: cut by cut_extrude_4_tool
    add(cut_extrude_4_tool.part, mode=Mode.SUBTRACT)

    # 草图15 → 切除-拉伸5 (cut)
    with BuildSketch(Plane(origin=(0, 2, 0), x_dir=(1, 0, 0), z_dir=(0, 1, 0))):
        with Locations(Location((-44.877271703, -7.080517565, 0), (0, 0, 270))):
            Circle(SKETCH_15_R)
        with Locations(Location((-44.877271703, -27.080517565, 0), (0, 0, 270))):
            Circle(SKETCH_15_R)
        with Locations(Location((49.122728297, -7.080517565, 0), (0, 0, 270))):
            Circle(SKETCH_15_R)
        with Locations(Location((49.122728297, -27.080517565, 0), (0, 0, 270))):
            Circle(SKETCH_15_R)
    extrude(amount=-CUT_EXTRUDE_5_DEPTH, mode=Mode.SUBTRACT)

    # 草图17 → 切除-拉伸7 (cut)
    with BuildSketch(Plane(origin=(0, 2, 0), x_dir=(1, 0, 0), z_dir=(0, 1, 0))):
        with Locations((2.122728297, -39.080517565)):
            Rectangle(SKETCH_17_W, SKETCH_17_H)
    extrude(amount=-CUT_EXTRUDE_7_DEPTH, mode=Mode.SUBTRACT)


with BuildPart() as cut_extrude_4268_piece_2_1:
    add(cut_extrude_4268_piece_2.part)

    # 切除-拉伸4: cut by cut_extrude_4_tool
    add(cut_extrude_4_tool.part, mode=Mode.SUBTRACT)

    # 草图16 → 切除-拉伸6 (cut)
    with BuildSketch(Plane(origin=(0, 2, 0), x_dir=(1, 0, 0), z_dir=(0, 1, 0))):
        with Locations(Location((-16.827271703, 94.765125879, 0), (0, 0, 270))):
            Circle(SKETCH_16_R)
        with Locations(Location((41.172728297, 94.765125879, 0), (0, 0, 270))):
            Circle(SKETCH_16_R)
        with Locations(Location((41.172728297, 45.665125879, 0), (0, 0, 270))):
            Circle(SKETCH_16_R)
        with Locations(Location((-16.827271703, 45.665125879, 0), (0, 0, 270))):
            Circle(SKETCH_16_R)
    extrude(amount=-CUT_EXTRUDE_6_DEPTH, mode=Mode.SUBTRACT)


with BuildPart() as cut_extrude_8_tool:
    # 草图18 → 切除-拉伸8 (new body)
    with BuildSketch(Plane.XZ):
        with Locations((53.622728297, -28.419482435)):
            Rectangle(SKETCH_18_W, SKETCH_18_H)
        with Locations((53.622728297, -16.419482435)):
            Rectangle(SKETCH_18_W, SKETCH_18_H)
        with Locations((-49.377271703, -28.419482435)):
            Rectangle(SKETCH_18_W, SKETCH_18_H)
        with Locations((-49.377271703, -16.419482435)):
            Rectangle(SKETCH_18_W, SKETCH_18_H)
    extrude(amount=-CUT_EXTRUDE_8_DEPTH)


with BuildPart() as cut_extrude_4268_piece_1_2:
    add(cut_extrude_4268_piece_1_1.part)

    # 切除-拉伸8: cut by cut_extrude_8_tool
    add(cut_extrude_8_tool.part, mode=Mode.SUBTRACT)

    # 草图19 → 切除-拉伸9 (cut)
    with BuildSketch(Plane.XZ):
        with Locations(Location((67.122728297, -18.419482435, 0), (0, 0, 270))):
            Circle(SKETCH_19_R)
        with Locations(Location((67.122728297, 6.580517565, 0), (0, 0, 270))):
            Circle(SKETCH_19_R)
        with Locations(Location((-62.877271703, -18.419482435, 0), (0, 0, 270))):
            Circle(SKETCH_19_R)
        with Locations(Location((-62.877271703, 6.580517565, 0), (0, 0, 270))):
            Circle(SKETCH_19_R)
    extrude(amount=-CUT_EXTRUDE_9_DEPTH, mode=Mode.SUBTRACT)


with BuildPart() as cut_extrude_4268_piece_2_2:
    add(cut_extrude_4268_piece_2_1.part)

    # 切除-拉伸8: cut by cut_extrude_8_tool
    add(cut_extrude_8_tool.part, mode=Mode.SUBTRACT)


solid = Compound([cut_extrude_4268_piece_1_2.part, cut_extrude_4268_piece_2_2.part])
